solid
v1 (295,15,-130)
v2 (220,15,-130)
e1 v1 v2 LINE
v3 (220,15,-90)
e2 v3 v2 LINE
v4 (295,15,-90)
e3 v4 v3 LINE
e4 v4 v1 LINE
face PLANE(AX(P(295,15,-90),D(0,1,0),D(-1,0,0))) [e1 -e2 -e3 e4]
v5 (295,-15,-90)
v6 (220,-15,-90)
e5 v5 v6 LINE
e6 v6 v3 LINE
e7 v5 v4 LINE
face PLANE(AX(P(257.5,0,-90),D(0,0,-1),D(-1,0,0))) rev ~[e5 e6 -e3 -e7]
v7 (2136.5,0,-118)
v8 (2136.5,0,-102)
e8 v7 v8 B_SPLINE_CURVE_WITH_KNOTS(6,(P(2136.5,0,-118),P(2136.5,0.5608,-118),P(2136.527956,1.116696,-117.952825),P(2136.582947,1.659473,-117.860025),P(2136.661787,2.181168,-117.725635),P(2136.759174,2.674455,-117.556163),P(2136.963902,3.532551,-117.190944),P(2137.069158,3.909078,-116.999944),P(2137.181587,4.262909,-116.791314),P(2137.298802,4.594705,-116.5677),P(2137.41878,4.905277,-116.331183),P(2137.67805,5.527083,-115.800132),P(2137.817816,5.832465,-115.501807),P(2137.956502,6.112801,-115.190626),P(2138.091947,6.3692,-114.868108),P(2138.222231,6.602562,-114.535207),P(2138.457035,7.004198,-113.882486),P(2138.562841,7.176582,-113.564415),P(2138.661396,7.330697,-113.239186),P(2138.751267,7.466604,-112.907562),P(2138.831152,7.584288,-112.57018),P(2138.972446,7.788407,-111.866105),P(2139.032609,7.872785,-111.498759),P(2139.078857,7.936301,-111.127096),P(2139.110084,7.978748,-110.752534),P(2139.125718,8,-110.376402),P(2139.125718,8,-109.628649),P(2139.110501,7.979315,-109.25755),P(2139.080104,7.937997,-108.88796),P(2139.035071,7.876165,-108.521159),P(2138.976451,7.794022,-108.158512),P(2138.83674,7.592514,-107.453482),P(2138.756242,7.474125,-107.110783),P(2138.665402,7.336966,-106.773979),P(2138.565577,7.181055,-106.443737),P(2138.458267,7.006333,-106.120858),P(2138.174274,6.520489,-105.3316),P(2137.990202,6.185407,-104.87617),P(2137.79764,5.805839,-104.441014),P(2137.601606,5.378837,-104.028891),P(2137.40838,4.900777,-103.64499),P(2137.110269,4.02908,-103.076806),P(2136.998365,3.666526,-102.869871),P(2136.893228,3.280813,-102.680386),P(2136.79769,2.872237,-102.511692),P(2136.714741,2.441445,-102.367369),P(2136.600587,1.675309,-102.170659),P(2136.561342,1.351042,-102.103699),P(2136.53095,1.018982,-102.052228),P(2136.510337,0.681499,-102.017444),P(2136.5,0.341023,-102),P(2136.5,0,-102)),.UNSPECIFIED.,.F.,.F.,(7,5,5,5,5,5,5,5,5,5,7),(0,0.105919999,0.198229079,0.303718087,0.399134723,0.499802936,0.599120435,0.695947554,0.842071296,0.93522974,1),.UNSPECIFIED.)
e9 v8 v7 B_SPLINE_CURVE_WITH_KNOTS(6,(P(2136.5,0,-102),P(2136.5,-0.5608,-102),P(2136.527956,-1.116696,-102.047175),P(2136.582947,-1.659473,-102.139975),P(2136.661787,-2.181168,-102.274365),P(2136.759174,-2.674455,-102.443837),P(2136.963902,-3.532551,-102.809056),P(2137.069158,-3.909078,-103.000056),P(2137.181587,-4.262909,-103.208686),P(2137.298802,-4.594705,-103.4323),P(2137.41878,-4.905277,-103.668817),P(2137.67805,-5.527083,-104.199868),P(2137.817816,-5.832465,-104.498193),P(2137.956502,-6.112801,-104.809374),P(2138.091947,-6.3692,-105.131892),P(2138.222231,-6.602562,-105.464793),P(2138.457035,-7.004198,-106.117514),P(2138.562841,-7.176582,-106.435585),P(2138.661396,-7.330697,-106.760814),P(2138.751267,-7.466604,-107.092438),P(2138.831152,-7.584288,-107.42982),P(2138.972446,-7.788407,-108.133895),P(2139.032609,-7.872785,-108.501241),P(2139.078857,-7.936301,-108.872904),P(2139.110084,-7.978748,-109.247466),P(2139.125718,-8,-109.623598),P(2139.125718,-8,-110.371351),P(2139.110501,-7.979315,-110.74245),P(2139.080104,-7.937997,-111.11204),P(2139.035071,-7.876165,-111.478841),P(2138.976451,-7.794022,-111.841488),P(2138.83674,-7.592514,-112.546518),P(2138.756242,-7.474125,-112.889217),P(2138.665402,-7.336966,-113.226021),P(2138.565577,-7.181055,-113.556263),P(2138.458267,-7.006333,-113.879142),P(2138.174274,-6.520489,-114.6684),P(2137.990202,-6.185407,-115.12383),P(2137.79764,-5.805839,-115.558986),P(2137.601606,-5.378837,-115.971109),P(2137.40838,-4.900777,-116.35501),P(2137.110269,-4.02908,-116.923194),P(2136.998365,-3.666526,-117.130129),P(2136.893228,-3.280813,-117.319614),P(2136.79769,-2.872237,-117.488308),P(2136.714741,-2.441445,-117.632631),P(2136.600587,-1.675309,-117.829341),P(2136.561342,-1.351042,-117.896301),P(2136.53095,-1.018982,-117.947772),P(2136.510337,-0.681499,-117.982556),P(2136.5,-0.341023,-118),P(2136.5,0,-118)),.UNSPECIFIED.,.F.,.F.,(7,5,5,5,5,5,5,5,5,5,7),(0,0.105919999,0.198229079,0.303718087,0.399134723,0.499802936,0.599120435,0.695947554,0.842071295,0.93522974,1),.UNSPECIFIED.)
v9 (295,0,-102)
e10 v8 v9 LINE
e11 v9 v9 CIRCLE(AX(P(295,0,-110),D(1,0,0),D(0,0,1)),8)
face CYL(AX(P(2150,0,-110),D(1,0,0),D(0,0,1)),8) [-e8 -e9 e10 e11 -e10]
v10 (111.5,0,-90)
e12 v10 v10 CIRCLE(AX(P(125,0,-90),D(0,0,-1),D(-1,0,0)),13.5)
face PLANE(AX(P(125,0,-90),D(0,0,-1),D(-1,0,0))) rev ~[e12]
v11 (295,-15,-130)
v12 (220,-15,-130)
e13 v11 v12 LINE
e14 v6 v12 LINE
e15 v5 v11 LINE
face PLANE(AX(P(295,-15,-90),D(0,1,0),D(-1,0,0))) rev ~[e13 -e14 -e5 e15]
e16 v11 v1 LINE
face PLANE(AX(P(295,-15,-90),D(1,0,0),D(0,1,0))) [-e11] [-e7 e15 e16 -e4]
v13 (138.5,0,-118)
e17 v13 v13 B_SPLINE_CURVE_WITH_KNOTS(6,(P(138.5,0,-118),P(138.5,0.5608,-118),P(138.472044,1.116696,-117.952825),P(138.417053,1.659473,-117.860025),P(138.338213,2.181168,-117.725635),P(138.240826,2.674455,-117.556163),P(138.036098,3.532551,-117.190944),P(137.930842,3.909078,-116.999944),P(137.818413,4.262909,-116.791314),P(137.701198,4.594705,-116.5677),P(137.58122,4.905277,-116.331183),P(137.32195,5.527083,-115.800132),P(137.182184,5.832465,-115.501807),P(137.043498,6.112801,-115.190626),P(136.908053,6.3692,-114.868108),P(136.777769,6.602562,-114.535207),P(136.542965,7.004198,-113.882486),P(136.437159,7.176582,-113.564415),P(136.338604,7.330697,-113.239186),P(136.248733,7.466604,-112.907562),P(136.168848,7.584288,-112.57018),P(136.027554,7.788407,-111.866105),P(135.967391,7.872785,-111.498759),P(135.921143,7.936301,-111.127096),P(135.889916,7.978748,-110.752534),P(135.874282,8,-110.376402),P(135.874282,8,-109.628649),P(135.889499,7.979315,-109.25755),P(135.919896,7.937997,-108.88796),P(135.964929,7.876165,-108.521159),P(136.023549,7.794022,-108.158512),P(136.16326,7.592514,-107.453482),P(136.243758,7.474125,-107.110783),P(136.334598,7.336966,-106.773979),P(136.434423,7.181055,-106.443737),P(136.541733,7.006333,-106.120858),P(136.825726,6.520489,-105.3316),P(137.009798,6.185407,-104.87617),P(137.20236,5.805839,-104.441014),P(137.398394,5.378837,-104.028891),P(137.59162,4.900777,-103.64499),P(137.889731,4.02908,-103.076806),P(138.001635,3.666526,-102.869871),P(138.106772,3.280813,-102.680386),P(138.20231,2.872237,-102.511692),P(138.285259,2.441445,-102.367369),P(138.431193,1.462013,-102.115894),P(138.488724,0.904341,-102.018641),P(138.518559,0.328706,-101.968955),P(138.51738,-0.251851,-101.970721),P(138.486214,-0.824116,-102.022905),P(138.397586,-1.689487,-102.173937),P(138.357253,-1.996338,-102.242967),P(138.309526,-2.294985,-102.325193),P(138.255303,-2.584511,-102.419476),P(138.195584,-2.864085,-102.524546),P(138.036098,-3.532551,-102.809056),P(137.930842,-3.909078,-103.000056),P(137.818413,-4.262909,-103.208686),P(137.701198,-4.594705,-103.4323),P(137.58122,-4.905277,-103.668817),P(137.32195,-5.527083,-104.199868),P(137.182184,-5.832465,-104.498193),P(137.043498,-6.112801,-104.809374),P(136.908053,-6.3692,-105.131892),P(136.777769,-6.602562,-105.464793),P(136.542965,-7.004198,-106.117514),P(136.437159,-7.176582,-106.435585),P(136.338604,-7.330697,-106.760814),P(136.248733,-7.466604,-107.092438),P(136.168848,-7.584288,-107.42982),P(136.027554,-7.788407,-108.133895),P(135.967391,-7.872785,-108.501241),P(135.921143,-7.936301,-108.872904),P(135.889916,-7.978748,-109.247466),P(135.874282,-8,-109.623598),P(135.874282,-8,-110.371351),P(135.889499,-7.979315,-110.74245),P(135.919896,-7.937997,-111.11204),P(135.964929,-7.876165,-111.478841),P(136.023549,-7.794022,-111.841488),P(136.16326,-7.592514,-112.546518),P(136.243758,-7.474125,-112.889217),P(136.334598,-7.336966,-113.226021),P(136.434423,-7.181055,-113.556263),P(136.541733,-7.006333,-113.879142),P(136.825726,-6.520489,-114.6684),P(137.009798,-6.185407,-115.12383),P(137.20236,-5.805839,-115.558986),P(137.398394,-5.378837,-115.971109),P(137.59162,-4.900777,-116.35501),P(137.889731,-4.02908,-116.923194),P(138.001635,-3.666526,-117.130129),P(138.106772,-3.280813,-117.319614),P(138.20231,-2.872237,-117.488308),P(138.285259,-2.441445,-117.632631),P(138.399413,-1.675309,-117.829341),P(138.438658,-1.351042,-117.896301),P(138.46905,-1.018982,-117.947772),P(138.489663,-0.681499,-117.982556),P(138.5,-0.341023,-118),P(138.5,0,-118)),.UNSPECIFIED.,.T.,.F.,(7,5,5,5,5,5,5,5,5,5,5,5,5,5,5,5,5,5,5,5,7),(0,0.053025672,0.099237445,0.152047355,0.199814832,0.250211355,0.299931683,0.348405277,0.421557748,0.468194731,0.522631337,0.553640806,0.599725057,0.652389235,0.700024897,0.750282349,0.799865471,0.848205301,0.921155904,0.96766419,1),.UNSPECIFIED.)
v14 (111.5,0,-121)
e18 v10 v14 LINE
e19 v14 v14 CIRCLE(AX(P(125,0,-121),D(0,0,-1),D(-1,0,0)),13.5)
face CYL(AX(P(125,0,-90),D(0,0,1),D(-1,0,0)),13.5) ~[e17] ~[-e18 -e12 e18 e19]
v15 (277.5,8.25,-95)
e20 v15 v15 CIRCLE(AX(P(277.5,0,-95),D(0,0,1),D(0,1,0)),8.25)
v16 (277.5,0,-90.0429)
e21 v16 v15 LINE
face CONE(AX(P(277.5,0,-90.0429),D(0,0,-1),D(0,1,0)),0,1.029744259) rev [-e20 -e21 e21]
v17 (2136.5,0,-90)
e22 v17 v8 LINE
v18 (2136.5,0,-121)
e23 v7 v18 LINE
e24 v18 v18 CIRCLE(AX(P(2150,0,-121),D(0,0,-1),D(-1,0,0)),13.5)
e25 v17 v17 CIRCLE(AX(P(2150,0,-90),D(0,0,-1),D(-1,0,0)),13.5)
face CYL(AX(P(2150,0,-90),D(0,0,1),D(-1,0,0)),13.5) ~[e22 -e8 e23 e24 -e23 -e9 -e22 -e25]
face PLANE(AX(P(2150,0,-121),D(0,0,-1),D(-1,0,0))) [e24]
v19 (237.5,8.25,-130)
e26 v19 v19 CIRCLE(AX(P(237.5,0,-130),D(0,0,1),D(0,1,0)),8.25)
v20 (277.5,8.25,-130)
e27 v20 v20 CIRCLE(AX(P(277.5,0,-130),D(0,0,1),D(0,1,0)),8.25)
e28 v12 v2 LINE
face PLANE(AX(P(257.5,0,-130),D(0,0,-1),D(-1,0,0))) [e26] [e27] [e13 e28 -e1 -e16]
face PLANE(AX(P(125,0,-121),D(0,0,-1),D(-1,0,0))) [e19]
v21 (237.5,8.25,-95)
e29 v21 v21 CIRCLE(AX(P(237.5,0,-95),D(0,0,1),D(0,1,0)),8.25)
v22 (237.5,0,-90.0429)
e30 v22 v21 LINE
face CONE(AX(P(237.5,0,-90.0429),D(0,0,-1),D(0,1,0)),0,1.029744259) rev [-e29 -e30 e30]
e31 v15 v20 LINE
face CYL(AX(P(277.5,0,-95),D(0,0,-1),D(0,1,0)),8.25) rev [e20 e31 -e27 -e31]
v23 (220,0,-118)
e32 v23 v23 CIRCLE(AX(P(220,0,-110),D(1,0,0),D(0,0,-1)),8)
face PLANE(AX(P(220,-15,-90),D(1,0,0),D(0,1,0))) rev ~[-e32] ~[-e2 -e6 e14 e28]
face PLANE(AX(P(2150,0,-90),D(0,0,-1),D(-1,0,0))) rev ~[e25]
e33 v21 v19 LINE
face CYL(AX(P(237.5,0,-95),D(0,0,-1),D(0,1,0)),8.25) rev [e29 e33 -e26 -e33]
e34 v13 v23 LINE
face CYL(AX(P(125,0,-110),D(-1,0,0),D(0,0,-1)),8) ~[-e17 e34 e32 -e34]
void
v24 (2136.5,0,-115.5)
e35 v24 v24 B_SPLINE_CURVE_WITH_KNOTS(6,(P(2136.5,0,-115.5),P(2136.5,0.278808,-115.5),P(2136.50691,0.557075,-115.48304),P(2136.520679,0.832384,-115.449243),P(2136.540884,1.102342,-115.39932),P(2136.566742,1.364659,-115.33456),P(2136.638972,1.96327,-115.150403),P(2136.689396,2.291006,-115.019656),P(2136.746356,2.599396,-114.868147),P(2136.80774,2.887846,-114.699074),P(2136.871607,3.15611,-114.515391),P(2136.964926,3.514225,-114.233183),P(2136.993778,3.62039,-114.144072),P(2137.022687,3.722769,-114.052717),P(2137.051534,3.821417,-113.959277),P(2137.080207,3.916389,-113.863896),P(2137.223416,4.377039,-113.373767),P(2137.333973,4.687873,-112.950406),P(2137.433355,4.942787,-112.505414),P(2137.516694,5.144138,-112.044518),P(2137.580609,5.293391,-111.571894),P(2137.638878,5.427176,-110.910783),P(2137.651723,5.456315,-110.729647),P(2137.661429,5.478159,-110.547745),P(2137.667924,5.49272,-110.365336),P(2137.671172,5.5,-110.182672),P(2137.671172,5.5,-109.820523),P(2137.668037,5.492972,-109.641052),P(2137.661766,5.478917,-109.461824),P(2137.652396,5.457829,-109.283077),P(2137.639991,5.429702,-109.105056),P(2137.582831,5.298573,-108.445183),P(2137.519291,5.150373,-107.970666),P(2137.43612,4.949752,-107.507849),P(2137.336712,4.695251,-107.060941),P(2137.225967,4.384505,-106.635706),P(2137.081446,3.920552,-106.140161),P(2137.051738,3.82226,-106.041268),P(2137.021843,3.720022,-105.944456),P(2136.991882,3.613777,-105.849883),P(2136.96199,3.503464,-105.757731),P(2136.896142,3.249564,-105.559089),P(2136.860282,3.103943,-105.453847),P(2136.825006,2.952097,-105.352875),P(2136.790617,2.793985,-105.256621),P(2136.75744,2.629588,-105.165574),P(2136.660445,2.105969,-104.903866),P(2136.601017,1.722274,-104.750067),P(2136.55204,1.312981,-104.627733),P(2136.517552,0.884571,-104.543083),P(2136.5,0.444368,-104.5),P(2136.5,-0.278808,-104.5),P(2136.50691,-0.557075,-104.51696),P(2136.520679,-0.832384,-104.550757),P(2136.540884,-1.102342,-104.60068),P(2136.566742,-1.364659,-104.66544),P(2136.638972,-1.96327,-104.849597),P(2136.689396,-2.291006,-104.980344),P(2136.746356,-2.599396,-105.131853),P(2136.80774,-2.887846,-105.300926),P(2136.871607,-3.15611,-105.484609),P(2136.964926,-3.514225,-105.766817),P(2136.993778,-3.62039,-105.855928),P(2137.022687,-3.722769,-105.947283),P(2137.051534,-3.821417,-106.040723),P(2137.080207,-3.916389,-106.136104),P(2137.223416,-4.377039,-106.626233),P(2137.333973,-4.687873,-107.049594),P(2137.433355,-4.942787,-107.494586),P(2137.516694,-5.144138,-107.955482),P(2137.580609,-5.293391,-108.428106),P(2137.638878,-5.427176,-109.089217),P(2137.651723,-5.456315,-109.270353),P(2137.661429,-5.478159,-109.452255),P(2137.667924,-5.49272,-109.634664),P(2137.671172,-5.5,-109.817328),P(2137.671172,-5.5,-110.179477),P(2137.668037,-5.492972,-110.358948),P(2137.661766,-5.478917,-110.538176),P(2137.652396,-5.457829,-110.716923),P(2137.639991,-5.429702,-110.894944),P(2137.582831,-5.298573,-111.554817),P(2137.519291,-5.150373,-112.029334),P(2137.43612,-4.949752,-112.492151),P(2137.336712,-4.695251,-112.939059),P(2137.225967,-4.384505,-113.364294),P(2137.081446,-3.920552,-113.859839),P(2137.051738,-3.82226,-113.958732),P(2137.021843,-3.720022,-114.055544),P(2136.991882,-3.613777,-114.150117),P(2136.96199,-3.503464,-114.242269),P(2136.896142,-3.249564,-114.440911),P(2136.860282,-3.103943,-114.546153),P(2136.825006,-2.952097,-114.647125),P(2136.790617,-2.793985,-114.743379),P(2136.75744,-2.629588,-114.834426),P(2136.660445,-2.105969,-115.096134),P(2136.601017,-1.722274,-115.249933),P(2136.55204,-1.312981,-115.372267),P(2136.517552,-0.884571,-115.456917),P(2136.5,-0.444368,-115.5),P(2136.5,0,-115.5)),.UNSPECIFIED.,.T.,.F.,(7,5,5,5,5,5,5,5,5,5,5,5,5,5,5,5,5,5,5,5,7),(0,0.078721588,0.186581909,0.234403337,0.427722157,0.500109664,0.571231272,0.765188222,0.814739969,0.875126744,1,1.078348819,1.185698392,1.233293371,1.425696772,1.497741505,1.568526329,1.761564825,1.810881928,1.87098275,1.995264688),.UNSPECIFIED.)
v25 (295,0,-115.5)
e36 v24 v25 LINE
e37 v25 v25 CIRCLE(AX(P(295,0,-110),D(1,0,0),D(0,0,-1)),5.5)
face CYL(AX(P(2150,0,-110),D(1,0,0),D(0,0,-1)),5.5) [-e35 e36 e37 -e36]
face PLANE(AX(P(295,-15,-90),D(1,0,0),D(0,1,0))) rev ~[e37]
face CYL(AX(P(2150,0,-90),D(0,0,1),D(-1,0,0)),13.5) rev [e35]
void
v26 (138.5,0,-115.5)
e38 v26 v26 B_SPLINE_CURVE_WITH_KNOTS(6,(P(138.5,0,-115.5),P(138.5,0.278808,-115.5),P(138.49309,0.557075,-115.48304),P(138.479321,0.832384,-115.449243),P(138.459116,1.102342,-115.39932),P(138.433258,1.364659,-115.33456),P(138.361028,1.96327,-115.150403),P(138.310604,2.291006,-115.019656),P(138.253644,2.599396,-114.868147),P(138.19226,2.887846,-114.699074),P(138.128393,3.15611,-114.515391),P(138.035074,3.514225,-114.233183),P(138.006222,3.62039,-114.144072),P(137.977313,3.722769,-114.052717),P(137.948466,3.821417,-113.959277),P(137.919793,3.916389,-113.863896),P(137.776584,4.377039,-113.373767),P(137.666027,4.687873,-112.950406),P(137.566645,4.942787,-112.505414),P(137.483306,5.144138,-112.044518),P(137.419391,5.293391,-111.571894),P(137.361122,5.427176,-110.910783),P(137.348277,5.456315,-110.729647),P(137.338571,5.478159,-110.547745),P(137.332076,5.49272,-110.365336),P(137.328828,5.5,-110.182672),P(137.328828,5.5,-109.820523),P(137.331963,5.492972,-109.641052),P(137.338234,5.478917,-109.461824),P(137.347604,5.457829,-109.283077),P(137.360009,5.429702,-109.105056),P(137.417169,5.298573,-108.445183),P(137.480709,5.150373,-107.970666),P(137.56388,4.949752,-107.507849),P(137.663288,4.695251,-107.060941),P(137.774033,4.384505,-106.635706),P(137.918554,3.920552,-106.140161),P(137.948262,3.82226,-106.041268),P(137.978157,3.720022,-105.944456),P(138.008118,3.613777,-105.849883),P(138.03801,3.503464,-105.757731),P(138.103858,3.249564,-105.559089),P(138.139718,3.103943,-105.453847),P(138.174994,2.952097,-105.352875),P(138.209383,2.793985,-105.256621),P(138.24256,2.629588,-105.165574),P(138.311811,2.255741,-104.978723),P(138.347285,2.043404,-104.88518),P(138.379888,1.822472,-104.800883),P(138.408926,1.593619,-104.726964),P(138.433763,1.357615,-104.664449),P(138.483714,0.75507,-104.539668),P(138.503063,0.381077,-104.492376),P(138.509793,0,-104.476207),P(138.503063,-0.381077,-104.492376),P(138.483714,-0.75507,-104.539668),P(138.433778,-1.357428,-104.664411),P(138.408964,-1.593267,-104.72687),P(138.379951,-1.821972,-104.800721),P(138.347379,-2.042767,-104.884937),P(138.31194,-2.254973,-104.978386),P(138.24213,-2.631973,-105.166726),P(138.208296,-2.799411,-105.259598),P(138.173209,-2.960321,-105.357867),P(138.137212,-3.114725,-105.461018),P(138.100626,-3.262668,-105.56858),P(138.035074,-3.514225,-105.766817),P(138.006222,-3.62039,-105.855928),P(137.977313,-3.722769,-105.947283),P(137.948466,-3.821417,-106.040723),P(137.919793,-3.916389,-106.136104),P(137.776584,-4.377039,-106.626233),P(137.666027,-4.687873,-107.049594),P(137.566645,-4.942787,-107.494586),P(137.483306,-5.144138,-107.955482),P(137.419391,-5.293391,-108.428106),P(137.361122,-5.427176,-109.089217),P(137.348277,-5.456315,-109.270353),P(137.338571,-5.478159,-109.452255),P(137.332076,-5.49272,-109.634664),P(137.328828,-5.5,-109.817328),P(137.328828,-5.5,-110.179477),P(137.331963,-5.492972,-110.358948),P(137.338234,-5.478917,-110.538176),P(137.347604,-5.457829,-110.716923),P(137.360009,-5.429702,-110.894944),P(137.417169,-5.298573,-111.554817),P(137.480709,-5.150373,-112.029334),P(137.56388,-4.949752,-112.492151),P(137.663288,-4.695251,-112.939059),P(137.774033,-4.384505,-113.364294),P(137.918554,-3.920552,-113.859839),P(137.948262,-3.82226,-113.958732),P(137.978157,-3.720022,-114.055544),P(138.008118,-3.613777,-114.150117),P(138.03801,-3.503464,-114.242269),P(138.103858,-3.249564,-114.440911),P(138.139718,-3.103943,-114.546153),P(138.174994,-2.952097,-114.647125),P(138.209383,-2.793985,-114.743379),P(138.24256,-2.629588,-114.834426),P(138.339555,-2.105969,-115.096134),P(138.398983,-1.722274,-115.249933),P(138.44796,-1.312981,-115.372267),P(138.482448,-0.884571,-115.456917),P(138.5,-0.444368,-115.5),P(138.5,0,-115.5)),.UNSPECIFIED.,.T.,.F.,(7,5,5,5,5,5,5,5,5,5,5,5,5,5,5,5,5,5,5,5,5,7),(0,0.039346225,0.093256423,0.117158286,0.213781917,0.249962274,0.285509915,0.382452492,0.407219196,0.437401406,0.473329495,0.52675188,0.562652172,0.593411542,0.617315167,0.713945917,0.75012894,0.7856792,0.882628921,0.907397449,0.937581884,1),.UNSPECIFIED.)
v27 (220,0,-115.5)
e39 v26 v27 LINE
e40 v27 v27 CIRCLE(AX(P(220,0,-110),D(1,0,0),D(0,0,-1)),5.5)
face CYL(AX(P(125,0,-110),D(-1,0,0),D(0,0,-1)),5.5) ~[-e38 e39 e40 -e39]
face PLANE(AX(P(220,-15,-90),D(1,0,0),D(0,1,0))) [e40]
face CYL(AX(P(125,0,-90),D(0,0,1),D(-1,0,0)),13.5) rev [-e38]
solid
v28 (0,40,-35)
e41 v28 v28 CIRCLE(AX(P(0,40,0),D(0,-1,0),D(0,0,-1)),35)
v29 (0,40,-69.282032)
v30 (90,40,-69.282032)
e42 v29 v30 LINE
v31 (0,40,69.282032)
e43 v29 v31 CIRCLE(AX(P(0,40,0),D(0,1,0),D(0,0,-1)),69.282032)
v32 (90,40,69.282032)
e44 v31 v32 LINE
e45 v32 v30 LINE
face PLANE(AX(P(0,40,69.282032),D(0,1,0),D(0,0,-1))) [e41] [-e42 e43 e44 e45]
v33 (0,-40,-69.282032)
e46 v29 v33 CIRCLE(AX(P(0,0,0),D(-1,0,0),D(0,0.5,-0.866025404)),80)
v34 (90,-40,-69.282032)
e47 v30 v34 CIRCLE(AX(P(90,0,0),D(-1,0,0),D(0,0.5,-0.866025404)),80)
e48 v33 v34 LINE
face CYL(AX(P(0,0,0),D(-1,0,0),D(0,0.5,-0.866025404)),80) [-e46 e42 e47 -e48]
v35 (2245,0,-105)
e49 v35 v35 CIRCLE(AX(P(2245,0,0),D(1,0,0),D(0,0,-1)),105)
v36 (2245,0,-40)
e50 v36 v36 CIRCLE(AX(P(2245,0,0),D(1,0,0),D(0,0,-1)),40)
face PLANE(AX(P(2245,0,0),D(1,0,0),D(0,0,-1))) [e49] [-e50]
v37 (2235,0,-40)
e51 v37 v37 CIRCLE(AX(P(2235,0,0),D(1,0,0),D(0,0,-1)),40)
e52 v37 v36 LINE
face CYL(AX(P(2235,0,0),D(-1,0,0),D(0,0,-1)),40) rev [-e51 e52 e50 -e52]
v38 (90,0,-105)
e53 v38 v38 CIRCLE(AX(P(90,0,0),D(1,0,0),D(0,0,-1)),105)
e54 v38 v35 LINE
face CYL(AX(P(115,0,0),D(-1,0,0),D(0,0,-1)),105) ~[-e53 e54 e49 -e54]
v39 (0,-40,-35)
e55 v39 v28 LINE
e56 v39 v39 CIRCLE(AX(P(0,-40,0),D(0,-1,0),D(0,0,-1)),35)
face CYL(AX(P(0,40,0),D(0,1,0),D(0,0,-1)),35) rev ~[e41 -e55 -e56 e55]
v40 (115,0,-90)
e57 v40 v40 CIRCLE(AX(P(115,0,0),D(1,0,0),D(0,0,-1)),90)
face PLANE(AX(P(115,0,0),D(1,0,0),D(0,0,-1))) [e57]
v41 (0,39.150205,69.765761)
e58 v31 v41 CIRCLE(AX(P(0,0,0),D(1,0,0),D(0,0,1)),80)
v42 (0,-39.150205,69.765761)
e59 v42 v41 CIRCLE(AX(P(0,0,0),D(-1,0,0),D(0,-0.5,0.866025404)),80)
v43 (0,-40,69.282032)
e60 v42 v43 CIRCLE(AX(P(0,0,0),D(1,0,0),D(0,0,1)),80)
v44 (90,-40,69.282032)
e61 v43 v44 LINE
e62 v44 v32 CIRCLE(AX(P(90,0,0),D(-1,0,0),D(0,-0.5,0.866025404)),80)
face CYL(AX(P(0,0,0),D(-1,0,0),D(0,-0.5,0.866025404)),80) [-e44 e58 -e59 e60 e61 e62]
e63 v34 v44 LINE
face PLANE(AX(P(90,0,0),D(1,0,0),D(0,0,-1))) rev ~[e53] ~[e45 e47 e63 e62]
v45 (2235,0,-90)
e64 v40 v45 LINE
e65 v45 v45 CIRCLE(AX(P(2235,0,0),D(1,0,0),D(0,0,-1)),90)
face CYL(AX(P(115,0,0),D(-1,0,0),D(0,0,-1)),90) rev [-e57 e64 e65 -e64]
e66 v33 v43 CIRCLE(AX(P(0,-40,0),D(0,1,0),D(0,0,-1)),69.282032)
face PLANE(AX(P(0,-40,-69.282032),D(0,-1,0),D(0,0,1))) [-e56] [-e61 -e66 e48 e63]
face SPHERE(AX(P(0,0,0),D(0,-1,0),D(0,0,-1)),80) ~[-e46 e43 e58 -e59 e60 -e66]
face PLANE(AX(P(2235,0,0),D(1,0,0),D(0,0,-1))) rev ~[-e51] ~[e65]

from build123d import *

# Parameters (mm, degrees)
SKETCH_3_W           = 88.479839294
SKETCH_3_H           = 156.072634557
CUT_EXTRUDE_1_DEPTH  = 112
EXTRUDE_3_DEPTH      = 90
SKETCH_5_R           = 35
CUT_EXTRUDE_2_DEPTH  = 145.568322948
SKETCH_6_R           = 105
EXTRUDE_4_DEPTH      = 25
SKETCH_7_R           = 105
SKETCH_7_R_2         = 90
EXTRUDE_5_DEPTH      = 2130
EXTRUDE_START        = -10
SKETCH_8_R           = 90
SKETCH_8_R_2         = 40
EXTRUDE_6_DEPTH      = 10
SKETCH_9_R           = 13.5
EXTRUDE_7_DEPTH      = 31
EXTRUDE_7_2_DEPTH    = 31
SKETCH_10_W          = 75
SKETCH_10_H          = 30
EXTRUDE_8_DEPTH      = 40
SKETCH_11_R          = 8
SKETCH_11_R_2        = 5.5
EXTRUDE_9_DEPTH      = 1855
SKETCH_12_R          = 8
SKETCH_12_R_2        = 5.5
EXTRUDE_10_DEPTH     = 95
M18X1_5_1_AT_2_COUNT = 2
M18X1_5_1_AT_2_PITCH = 40


with BuildPart() as part:
    # 草图1 → 旋转1 (revolve)
    with BuildSketch(Plane.XY, mode=Mode.PRIVATE) as revolve_1_sk:
        with BuildLine():
            Line((35, -40), (35, 40))
            Line((35, 40), (69.282032303, 40))
            ThreePointArc((69.282032303, 40), (80, 0), (69.282032303, -40))
            Line((69.282032303, -40), (35, -40))
        make_face()
    revolve(revolve_1_sk.sketch.rotate(Axis((0, 0, 0), (0, 1, 0)), 90), axis=Axis((0, 0, 0), (0, 1, 0)))

    # 草图3 → 切除-拉伸1 (cut)
    with BuildSketch(Plane(origin=(0, 40, 0), x_dir=(1, 0, 0), z_dir=(0, 1, 0))):
        with Locations((44.239919647, 8.27055624)):
            Rectangle(SKETCH_3_W, SKETCH_3_H)
    extrude(amount=-CUT_EXTRUDE_1_DEPTH, mode=Mode.SUBTRACT)

    # 草图4 → 凸台-拉伸3 (add)
    with BuildSketch(Plane(origin=(0, 0, 0), x_dir=(0, 0, -1), z_dir=(1, 0, 0))):
        with BuildLine():
            Line((-69.282032303, 40), (69.282032303, 40))
            ThreePointArc((69.282032303, 40), (80, 0), (69.282032303, -40))
            Line((69.282032303, -40), (-69.282032303, -40))
            ThreePointArc((-69.282032303, -40), (-80, 0), (-69.282032303, 40))
        make_face()
    extrude(amount=EXTRUDE_3_DEPTH)

    # 草图5 → 切除-拉伸2 (cut, through all)
    with BuildSketch(Plane(origin=(0, 40, 0), x_dir=(1, 0, 0), z_dir=(0, 1, 0))):
        with Locations(Location((0, 0, 0), (0, 0, 90))):
            Circle(SKETCH_5_R)
    extrude(amount=-CUT_EXTRUDE_2_DEPTH, mode=Mode.SUBTRACT)

    # 草图6 → 凸台-拉伸4 (add)
    with BuildSketch(Plane(origin=(90, 0, 0), x_dir=(0, 0, -1), z_dir=(1, 0, 0))):
        Circle(SKETCH_6_R)
    extrude(amount=EXTRUDE_4_DEPTH)

    # 草图7 → 凸台-拉伸5 (add)
    with BuildSketch(Plane(origin=(115, 0, 0), x_dir=(0, 0, -1), z_dir=(1, 0, 0))):
        Circle(SKETCH_7_R)
        Circle(SKETCH_7_R_2, mode=Mode.SUBTRACT)
    extrude(amount=EXTRUDE_5_DEPTH)

    # 草图8 → 凸台-拉伸6 (add)
    with BuildSketch(Plane(origin=(2245, 0, 0), x_dir=(0, 0, -1), z_dir=(1, 0, 0)).offset(EXTRUDE_START)):
        Circle(SKETCH_8_R)
        Circle(SKETCH_8_R_2, mode=Mode.SUBTRACT)
    extrude(amount=EXTRUDE_6_DEPTH)


with BuildPart() as body_2:
    # 草图9 → 凸台-拉伸7 (new body)
    with BuildSketch(Plane(origin=(0, 0, -90), x_dir=(-1, 0, 0), z_dir=(0, 0, -1))):
        with Locations((-2150, 0)):
            Circle(SKETCH_9_R)
    extrude(amount=EXTRUDE_7_DEPTH)



with BuildPart() as body_3:
    # 草图9 → Extrude 7 2 (new body)
    with BuildSketch(Plane(origin=(0, 0, -90), x_dir=(-1, 0, 0), z_dir=(0, 0, -1))):
        with Locations((-125, 0)):
            Circle(SKETCH_9_R)
    extrude(amount=EXTRUDE_7_2_DEPTH)



with BuildPart() as body_4:
    # 草图10 → 凸台-拉伸8 (new body)
    with BuildSketch(Plane(origin=(0, 0, -90), x_dir=(-1, 0, 0), z_dir=(0, 0, -1))):
        with Locations((-257.5, 0)):
            Rectangle(SKETCH_10_W, SKETCH_10_H)
    extrude(amount=EXTRUDE_8_DEPTH)


with BuildPart() as body_2_1:
    add(body_2.part)

    add(body_4.part)  # 凸台-拉伸9 merges body 4
    # 草图11 → 凸台-拉伸9 (add)
    with BuildSketch(Plane(origin=(2150, 0, 0), x_dir=(0, 0, -1), z_dir=(1, 0, 0))):
        with Locations(Location((110, 0, 0), (0, 0, 180))):
            Circle(SKETCH_11_R)
        with Locations((110, 0)):
            Circle(SKETCH_11_R_2, mode=Mode.SUBTRACT)
    extrude(amount=-EXTRUDE_9_DEPTH)


with BuildPart() as body_3_1:
    add(body_3.part)

    add(body_2_1.part)  # 凸台-拉伸10 merges body 2
    # 草图12 → 凸台-拉伸10 (add)
    with BuildSketch(Plane(origin=(125, 0, 0), x_dir=(0, 0, -1), z_dir=(1, 0, 0))):
        with Locations((110, 0)):
            Circle(SKETCH_12_R)
        with Locations((110, 0)):
            Circle(SKETCH_12_R_2, mode=Mode.SUBTRACT)
    extrude(amount=EXTRUDE_10_DEPTH)

    # 草图14 → M18x1.5 螺纹孔1 (revolve, cut)
    with BuildSketch(Plane(origin=(277.5, 0, -130), x_dir=(0, 1, 0), z_dir=(1, 0, 0))):
        Polygon((0, 0), (0, 39.957100107), (8.25, 35), (8.25, 0), align=None)
    m18x1_5_1 = revolve(axis=Axis((277.5, 0, -136.35), (0, 0, 1)), mode=Mode.SUBTRACT)

    # M18x1.5 螺纹孔1 at 2: M18x1.5 螺纹孔1 ×2
    with Locations(*[(-i * M18X1_5_1_AT_2_PITCH, 0, 0) for i in range(1, M18X1_5_1_AT_2_COUNT)]):
        add(m18x1_5_1, mode=Mode.SUBTRACT)


solid = Compound([part.part, body_3_1.part])
